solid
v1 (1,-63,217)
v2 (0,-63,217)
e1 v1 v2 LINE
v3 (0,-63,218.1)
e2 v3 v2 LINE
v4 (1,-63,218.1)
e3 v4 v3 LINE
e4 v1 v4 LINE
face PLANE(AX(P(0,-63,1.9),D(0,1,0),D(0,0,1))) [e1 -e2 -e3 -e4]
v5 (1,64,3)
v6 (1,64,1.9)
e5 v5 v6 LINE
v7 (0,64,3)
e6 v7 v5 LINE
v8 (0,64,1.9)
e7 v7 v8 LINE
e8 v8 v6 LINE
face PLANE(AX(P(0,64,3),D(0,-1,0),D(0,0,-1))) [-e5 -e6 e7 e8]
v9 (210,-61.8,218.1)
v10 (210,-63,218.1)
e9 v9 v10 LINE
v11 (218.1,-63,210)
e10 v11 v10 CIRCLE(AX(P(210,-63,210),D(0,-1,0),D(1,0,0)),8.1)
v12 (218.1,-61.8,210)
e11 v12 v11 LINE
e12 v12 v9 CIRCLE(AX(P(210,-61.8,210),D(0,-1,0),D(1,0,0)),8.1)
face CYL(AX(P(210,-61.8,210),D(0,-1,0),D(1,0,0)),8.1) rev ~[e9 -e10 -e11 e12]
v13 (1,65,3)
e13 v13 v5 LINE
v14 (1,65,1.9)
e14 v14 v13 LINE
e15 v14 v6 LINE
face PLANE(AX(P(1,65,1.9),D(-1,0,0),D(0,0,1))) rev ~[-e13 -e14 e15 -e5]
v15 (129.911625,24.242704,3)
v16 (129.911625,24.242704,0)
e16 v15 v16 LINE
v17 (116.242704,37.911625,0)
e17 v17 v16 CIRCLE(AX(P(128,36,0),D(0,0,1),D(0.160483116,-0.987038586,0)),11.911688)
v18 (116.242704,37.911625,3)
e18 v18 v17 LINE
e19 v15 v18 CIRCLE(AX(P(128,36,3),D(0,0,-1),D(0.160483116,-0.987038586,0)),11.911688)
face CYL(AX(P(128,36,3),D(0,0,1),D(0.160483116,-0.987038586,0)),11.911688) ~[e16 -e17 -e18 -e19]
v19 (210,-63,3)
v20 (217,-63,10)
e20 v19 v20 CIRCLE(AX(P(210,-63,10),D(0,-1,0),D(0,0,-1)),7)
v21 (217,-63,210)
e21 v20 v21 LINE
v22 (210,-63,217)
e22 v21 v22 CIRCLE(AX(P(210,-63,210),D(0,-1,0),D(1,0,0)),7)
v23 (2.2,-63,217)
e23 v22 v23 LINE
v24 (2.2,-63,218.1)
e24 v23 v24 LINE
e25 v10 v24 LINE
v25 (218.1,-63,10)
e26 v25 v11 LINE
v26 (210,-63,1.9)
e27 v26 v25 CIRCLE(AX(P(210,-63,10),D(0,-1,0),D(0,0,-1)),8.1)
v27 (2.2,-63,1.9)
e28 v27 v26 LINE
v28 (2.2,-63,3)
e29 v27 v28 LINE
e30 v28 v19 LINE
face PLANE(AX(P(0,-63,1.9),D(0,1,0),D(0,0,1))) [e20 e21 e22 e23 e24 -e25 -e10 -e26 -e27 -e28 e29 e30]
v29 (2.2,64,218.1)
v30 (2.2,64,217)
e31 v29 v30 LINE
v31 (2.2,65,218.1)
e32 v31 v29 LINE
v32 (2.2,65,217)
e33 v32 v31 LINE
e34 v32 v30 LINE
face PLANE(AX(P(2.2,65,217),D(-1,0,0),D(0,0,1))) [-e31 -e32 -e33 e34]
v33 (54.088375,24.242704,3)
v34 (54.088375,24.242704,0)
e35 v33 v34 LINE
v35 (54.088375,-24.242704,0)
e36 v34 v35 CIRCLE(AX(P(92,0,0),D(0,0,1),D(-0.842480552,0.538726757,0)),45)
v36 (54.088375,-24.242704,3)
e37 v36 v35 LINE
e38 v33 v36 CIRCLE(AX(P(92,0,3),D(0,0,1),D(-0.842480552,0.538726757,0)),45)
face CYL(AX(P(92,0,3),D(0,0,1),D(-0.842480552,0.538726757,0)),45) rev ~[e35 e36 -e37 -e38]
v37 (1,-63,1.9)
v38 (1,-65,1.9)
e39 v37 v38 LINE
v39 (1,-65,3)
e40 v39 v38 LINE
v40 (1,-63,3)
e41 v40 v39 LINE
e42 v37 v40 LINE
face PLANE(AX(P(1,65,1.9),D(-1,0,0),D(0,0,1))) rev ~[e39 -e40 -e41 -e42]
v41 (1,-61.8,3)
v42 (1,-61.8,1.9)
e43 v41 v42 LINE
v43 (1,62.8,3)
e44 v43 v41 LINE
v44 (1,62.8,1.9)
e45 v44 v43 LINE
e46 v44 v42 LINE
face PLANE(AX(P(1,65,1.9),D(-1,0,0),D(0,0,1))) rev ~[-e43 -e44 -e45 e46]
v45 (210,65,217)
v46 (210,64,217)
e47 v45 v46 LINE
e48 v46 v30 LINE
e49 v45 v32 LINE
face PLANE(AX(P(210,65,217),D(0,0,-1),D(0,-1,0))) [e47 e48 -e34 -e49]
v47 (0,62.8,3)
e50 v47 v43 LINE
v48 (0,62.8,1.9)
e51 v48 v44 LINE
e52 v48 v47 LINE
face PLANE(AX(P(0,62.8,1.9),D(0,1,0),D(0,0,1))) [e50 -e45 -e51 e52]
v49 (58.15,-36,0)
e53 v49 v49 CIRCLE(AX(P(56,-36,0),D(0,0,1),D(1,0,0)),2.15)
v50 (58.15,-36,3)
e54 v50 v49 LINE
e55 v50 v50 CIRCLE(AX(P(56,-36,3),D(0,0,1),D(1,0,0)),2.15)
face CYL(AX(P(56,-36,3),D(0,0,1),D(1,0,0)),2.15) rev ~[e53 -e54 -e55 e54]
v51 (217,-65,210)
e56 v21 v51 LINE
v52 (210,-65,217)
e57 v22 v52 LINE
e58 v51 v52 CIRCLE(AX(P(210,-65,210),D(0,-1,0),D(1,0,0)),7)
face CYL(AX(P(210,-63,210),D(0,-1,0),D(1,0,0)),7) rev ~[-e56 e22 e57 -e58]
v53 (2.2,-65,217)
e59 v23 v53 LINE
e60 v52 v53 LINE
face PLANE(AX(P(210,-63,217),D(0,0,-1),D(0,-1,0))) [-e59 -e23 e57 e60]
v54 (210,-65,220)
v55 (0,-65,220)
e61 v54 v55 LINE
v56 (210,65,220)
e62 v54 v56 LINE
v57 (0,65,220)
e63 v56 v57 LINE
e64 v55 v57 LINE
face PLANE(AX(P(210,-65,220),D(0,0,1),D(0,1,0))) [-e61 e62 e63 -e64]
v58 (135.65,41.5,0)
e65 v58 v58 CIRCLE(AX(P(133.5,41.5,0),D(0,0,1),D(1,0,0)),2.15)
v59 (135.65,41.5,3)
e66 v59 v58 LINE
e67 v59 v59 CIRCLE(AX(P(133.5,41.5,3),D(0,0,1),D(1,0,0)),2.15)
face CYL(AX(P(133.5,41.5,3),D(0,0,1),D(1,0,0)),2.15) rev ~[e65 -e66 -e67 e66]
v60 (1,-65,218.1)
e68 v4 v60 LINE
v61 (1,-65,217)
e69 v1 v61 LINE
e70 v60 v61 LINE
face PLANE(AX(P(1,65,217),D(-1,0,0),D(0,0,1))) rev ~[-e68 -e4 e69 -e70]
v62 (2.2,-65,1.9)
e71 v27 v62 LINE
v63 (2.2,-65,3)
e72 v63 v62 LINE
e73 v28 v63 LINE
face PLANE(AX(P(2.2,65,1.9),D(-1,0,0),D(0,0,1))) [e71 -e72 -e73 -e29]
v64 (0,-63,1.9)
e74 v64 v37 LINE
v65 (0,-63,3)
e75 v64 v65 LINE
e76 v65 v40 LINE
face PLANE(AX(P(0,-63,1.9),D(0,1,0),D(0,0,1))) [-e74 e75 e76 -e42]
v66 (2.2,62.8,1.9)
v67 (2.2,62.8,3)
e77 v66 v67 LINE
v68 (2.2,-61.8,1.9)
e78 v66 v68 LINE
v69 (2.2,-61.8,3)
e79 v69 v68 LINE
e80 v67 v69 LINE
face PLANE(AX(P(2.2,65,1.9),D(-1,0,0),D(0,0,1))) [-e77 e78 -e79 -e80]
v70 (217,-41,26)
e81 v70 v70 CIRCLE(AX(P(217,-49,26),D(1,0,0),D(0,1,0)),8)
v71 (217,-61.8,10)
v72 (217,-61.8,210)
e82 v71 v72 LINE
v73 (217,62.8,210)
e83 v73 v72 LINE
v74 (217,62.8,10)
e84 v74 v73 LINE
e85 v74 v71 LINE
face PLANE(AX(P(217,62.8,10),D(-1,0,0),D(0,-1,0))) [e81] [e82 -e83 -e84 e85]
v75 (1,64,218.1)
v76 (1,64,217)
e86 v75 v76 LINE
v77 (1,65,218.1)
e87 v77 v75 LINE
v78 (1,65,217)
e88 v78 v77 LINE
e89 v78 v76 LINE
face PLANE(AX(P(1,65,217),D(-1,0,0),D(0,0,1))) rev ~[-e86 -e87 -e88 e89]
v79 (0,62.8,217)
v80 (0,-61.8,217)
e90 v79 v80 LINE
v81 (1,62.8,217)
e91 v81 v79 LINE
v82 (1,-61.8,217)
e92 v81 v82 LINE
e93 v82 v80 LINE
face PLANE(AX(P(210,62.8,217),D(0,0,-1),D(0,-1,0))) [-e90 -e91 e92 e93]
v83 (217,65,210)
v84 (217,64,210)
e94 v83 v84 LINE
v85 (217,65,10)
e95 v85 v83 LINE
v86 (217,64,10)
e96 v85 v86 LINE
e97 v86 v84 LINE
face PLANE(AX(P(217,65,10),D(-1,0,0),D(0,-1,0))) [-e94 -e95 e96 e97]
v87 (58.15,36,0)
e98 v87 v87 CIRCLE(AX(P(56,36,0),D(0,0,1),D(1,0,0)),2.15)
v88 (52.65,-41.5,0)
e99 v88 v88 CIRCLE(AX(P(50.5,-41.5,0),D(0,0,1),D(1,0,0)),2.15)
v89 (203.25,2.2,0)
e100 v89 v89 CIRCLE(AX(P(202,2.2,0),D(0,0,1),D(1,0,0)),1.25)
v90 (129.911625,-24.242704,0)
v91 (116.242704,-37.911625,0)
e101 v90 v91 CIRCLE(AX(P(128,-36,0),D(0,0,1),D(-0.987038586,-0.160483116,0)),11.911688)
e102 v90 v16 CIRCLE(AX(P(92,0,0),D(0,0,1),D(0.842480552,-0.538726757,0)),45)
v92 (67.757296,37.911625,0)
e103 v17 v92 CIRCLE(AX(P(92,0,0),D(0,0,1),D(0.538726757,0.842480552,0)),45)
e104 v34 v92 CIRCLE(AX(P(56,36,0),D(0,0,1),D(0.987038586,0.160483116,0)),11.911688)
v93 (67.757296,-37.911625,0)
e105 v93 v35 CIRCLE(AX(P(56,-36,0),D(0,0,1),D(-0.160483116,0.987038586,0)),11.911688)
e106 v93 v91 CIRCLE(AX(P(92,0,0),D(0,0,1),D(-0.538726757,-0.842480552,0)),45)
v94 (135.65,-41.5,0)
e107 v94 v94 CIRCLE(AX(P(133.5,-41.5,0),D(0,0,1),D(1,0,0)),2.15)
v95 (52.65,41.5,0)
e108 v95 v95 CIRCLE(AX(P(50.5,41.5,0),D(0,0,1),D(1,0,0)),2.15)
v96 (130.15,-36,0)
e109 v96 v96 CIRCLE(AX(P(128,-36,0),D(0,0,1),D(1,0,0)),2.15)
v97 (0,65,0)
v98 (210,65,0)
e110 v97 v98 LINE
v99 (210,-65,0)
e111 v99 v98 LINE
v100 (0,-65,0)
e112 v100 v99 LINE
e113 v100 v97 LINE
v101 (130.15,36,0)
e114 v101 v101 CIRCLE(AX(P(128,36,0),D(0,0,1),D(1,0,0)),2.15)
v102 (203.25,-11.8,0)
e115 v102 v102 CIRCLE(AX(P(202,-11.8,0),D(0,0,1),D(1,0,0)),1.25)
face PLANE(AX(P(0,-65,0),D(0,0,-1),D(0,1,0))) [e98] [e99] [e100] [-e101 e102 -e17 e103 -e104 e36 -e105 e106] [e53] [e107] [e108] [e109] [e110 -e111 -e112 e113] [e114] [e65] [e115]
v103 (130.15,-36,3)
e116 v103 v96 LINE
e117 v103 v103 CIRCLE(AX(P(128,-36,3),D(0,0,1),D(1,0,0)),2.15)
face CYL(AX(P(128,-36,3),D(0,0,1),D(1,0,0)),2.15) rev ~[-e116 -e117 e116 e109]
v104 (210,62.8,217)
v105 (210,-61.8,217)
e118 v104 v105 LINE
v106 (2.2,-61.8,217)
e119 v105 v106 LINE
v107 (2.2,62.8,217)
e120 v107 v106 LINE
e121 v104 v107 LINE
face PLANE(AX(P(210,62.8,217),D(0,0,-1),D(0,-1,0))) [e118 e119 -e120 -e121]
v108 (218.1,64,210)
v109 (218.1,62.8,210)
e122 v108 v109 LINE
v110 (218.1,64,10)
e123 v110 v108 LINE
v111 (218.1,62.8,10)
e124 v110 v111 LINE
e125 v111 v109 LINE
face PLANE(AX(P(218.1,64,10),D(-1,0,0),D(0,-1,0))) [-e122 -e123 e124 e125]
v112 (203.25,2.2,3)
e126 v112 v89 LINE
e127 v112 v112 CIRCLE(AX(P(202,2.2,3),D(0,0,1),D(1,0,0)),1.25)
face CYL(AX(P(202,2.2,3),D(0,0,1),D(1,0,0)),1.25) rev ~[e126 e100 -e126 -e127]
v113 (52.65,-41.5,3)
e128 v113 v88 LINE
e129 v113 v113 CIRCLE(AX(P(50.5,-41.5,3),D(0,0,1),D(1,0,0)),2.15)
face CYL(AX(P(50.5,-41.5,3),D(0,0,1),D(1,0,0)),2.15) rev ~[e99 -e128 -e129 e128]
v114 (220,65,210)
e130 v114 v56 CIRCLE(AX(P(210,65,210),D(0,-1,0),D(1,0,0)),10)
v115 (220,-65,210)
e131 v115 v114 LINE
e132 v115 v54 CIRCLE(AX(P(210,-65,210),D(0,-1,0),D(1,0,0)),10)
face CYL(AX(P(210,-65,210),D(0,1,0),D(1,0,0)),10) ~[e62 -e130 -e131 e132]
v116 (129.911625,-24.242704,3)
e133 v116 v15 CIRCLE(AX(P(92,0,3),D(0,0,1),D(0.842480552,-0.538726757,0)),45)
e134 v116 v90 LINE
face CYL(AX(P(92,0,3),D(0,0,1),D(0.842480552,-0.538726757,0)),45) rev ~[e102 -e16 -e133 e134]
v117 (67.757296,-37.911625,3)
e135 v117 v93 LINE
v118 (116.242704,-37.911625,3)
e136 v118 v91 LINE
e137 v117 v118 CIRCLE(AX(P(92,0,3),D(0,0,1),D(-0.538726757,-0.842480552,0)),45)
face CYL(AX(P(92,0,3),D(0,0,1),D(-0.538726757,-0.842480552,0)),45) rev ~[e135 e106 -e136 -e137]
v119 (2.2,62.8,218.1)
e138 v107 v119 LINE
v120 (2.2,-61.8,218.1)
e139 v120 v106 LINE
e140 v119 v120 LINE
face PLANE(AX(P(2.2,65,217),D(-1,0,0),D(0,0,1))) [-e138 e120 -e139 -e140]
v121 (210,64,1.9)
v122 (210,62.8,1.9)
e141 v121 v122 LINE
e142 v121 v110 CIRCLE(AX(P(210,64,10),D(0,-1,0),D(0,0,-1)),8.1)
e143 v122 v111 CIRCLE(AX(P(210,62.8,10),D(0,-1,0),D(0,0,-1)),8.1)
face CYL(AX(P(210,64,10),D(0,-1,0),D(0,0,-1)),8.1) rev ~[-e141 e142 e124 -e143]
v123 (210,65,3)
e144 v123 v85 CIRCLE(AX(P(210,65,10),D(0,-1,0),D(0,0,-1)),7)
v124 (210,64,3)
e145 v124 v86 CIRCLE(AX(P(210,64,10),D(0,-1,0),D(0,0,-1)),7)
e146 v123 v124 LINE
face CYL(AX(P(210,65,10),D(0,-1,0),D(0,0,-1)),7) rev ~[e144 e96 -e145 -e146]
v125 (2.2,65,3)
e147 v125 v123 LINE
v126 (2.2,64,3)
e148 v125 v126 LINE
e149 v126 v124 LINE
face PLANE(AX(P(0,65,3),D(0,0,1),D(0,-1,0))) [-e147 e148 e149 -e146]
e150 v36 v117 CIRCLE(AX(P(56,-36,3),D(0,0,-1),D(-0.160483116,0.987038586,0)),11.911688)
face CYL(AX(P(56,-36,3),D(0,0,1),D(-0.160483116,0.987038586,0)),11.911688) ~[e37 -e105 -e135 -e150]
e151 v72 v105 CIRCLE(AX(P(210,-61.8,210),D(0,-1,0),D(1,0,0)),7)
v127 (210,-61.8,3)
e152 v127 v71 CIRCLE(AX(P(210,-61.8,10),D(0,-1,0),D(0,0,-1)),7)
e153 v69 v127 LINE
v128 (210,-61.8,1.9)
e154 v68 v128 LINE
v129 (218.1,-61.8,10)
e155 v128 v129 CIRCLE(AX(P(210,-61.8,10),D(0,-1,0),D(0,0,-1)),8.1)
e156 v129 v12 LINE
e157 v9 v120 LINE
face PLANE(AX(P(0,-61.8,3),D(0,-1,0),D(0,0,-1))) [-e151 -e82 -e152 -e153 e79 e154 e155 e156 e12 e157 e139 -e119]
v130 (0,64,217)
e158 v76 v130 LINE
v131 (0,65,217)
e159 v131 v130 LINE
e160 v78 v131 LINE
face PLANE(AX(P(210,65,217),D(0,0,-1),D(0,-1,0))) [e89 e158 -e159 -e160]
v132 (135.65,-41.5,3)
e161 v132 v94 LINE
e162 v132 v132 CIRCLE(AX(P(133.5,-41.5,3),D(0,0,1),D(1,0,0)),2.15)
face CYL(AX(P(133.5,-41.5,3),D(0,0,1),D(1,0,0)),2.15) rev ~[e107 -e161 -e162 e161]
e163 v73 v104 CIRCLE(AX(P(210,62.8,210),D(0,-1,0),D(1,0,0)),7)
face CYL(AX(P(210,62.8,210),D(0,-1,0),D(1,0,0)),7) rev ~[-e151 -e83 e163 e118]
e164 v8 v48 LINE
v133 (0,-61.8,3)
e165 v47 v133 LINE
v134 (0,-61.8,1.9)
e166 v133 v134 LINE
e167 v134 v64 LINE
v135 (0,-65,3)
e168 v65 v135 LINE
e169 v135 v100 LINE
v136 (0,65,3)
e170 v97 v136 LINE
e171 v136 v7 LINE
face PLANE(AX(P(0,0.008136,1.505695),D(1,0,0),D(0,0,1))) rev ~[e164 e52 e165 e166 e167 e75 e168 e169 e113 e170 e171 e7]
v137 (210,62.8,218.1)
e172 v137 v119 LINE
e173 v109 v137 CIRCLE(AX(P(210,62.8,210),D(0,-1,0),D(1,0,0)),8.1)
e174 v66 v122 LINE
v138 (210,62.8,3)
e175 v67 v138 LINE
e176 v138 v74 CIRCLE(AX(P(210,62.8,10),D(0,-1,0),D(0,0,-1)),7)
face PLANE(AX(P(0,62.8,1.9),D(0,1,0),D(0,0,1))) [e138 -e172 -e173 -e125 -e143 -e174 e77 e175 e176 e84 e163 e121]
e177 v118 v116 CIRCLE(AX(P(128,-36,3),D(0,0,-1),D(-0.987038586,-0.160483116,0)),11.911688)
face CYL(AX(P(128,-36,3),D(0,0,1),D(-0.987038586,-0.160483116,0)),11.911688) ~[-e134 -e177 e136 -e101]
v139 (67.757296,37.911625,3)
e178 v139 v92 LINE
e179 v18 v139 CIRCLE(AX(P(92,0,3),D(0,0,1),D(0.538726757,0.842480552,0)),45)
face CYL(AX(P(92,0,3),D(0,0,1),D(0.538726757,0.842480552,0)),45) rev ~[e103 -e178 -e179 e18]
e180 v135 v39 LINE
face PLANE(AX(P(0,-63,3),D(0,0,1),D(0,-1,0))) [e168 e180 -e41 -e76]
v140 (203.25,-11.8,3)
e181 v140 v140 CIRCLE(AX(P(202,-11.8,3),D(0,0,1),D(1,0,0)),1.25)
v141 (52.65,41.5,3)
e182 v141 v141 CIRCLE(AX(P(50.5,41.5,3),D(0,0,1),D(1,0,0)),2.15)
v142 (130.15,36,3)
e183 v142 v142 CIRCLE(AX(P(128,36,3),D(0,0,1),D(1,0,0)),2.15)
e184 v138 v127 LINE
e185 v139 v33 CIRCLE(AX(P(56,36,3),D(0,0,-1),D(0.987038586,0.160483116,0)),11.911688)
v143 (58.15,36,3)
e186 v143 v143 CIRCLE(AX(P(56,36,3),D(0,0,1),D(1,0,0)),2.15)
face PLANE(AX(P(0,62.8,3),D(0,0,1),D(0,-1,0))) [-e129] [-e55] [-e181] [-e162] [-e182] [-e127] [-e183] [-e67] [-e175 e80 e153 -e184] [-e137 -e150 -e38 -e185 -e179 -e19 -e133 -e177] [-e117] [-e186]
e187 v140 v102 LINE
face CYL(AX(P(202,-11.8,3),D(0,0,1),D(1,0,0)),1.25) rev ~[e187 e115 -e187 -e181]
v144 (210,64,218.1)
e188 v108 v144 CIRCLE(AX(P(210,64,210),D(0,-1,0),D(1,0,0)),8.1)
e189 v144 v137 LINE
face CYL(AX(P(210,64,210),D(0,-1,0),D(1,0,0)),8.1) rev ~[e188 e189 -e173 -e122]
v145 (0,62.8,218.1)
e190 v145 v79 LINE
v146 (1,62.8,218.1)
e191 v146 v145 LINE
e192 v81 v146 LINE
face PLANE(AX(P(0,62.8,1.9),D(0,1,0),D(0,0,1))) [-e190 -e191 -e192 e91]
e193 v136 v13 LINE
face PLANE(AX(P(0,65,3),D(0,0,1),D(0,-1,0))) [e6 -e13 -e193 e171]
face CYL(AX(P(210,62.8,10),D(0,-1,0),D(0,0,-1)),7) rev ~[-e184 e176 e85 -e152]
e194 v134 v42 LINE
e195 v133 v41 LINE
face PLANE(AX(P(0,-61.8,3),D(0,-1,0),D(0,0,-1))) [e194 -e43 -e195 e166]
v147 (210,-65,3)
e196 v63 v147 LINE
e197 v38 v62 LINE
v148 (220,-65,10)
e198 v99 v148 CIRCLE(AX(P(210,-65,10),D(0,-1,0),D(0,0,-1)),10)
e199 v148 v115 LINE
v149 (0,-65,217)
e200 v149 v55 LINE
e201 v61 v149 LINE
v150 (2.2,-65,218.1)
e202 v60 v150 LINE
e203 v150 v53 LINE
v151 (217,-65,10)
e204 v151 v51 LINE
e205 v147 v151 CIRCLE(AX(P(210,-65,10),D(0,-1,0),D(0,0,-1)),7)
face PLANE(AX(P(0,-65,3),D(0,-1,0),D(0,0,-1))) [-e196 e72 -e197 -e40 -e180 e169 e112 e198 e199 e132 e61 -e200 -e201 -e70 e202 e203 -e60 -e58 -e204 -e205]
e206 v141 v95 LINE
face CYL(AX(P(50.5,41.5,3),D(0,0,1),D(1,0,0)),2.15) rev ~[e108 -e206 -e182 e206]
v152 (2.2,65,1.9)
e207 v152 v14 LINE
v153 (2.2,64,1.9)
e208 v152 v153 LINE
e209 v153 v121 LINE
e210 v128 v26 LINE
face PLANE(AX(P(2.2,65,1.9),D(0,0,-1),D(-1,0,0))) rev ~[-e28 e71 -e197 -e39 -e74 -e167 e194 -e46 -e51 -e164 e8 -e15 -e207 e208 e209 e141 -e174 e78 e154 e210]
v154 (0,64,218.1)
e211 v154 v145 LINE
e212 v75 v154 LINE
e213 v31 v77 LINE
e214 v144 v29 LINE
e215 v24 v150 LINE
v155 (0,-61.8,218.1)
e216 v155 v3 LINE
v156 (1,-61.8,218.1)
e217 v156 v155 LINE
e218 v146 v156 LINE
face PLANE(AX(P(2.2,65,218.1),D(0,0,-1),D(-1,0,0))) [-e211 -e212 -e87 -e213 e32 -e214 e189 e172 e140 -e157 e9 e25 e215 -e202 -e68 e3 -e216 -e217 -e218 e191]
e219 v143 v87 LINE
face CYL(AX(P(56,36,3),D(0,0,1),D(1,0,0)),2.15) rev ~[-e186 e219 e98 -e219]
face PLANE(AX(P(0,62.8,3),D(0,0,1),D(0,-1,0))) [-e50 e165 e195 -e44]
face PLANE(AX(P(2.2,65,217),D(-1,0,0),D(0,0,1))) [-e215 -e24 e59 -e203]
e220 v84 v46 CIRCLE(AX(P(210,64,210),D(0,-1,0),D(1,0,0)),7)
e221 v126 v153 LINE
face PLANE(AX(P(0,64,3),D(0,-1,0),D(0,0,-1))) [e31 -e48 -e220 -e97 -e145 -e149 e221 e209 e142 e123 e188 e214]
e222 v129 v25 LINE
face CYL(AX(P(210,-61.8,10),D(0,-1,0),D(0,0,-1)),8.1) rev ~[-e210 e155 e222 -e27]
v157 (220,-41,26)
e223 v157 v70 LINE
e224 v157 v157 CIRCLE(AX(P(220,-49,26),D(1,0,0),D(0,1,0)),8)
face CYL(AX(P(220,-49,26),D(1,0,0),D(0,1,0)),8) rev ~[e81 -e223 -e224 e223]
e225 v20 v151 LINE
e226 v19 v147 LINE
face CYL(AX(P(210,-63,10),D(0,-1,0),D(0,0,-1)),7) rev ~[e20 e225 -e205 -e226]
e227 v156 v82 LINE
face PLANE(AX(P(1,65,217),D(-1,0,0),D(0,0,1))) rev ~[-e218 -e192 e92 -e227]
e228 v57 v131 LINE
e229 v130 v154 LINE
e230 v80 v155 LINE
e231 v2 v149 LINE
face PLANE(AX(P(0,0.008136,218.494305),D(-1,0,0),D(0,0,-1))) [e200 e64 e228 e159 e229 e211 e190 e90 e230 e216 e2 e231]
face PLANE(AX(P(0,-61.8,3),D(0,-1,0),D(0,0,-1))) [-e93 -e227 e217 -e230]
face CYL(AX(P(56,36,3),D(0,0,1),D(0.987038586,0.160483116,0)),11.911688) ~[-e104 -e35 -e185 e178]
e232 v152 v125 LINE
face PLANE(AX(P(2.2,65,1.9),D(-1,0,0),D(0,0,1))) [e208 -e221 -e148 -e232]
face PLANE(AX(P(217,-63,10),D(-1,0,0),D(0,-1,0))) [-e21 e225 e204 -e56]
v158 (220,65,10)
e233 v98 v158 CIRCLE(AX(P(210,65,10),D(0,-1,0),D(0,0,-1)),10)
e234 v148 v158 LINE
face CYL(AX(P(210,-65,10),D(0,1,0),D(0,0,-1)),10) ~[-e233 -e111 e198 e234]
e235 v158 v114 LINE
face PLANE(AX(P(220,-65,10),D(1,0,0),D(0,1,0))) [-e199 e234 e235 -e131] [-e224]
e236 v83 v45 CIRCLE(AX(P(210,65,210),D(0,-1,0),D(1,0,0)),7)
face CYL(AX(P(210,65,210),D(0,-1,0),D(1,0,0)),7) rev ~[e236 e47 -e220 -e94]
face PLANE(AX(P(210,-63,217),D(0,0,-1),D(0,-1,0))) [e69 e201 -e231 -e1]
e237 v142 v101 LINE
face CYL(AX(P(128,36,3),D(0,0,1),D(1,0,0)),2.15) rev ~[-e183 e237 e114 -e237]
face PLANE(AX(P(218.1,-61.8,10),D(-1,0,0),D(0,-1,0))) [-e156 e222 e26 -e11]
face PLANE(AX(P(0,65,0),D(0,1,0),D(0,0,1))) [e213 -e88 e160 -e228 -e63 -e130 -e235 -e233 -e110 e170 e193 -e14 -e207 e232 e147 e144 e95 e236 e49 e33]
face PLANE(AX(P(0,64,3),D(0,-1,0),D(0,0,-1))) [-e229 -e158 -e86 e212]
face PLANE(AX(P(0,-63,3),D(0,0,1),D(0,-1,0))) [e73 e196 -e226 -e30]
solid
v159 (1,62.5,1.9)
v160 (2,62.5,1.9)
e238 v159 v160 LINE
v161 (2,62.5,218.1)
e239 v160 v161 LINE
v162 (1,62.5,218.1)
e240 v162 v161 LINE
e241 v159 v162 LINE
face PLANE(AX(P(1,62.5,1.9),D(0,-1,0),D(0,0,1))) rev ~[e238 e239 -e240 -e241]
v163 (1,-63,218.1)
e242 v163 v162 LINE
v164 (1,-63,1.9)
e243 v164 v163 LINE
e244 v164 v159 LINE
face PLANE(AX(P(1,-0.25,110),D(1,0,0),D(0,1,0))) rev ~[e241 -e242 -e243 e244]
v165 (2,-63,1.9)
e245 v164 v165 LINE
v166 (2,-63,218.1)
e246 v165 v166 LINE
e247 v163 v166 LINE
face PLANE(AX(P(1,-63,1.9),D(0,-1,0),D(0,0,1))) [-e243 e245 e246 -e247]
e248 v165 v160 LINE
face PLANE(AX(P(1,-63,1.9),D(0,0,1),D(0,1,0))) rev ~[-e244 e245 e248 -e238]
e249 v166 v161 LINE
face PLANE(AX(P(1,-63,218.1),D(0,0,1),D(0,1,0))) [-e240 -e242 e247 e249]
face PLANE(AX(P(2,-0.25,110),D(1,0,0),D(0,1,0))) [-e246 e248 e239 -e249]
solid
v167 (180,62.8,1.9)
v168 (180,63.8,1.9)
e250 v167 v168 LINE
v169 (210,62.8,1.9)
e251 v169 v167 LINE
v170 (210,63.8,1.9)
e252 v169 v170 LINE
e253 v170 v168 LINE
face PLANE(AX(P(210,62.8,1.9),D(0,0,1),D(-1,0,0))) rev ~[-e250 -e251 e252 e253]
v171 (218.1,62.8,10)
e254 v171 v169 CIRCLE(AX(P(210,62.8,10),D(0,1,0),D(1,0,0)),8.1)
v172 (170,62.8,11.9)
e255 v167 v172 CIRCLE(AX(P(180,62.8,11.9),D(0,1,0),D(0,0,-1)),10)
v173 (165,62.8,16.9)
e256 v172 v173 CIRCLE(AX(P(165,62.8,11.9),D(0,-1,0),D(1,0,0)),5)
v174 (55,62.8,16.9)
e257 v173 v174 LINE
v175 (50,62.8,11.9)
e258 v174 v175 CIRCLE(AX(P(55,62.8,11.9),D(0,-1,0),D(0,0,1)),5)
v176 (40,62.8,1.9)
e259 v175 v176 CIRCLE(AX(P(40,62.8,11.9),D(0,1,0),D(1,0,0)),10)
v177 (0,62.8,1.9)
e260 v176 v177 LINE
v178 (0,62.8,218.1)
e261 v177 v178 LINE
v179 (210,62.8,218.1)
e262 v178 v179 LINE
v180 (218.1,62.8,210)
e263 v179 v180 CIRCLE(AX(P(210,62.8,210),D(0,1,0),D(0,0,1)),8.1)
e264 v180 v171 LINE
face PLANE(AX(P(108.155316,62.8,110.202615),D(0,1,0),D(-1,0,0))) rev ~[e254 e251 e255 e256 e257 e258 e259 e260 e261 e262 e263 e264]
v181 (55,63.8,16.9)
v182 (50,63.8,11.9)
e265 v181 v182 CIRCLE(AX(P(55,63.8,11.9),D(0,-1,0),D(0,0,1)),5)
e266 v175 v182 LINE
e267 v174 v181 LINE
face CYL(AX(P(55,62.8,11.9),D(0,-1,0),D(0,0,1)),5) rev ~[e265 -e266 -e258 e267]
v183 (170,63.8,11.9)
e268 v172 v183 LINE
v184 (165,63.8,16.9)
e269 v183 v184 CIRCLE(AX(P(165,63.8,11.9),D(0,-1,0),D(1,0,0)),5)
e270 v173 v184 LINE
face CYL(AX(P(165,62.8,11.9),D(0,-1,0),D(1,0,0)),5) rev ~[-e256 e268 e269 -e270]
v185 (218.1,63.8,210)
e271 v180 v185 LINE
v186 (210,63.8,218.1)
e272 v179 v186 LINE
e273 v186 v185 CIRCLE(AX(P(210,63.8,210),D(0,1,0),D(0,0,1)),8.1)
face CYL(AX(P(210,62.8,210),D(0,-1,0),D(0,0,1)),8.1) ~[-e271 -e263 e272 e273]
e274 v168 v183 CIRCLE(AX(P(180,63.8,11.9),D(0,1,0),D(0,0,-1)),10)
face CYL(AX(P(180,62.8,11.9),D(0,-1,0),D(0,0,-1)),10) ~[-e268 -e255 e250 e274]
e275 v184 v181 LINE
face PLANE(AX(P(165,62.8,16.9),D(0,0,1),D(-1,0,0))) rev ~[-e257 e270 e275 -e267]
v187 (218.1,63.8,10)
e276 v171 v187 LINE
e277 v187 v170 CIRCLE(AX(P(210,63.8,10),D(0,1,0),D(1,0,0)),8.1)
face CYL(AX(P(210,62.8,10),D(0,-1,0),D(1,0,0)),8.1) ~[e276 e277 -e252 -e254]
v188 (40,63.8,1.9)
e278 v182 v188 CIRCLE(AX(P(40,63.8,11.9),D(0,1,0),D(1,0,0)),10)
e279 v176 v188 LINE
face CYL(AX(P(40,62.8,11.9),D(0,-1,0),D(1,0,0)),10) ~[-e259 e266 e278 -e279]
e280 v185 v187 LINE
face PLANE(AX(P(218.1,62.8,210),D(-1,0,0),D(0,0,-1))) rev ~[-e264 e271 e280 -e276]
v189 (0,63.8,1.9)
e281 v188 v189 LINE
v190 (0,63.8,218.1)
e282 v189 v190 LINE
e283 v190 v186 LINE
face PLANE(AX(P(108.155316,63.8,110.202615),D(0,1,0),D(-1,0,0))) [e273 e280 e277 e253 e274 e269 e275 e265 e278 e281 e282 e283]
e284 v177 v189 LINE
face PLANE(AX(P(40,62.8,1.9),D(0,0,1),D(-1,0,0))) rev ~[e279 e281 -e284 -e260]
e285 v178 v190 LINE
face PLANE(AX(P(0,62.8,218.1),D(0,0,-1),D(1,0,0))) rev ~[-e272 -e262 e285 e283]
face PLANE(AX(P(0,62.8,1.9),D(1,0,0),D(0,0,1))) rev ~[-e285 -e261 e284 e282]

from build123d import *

# Parameters (mm, degrees)
F3_R      = 2.15
F4_DEPTH  = 25
F5_W      = 1.2
F5_H      = 1.1
F6_DEPTH  = 130.001
F8_D      = 2.5
F8_DEPTH  = 3.001
F9_R      = 8
F10_DEPTH = 3
F11_W     = 125.5
F11_H     = 216.2
F12_DEPTH = 1
F14_DEPTH = 1


with BuildPart() as f2:
    # F2: sweep along a path in F1
    with BuildLine(Plane.XZ) as f2_path:
        Line((0, 0), (210, 0))
        ThreePointArc((210, 0), (217.0710678119, 2.9289321881), (220, 10))
        Line((220, 10), (220, 210))
        ThreePointArc((220, 210), (217.0710678119, 217.0710678119), (210, 220))
        Line((210, 220), (0, 220))
    # F0 (on Right) → F2 (sweep)
    with BuildSketch(Plane.YZ):
        Polygon((-65, 3), (-65, 0), (65, 0), (65, 3), (64, 3), (64, 1.9), (62.8, 1.9), (62.8, 3), (-61.8, 3), (-61.8, 1.9), (-63, 1.9), (-63, 3), align=None)
    sweep(path=f2_path.line)

    # F3 (on face) → F4 (cut)
    with BuildSketch(Plane.XY.offset(3)):
        with BuildLine():
            ThreePointArc((67.7572959174, 37.91162485), (64.4228355337, 27.5771644663), (54.08837515, 24.2427040826))
            ThreePointArc((54.08837515, 24.2427040826), (47, 0), (54.08837515, -24.2427040826))
            ThreePointArc((54.08837515, -24.2427040826), (64.4228355337, -27.5771644663), (67.7572959174, -37.91162485))
            ThreePointArc((67.7572959174, -37.91162485), (92, -45), (116.2427040826, -37.91162485))
            ThreePointArc((116.2427040826, -37.91162485), (119.5771644663, -27.5771644663), (129.91162485, -24.2427040826))
            ThreePointArc((129.91162485, -24.2427040826), (137, 0), (129.91162485, 24.2427040826))
            ThreePointArc((129.91162485, 24.2427040826), (119.5771644663, 27.5771644663), (116.2427040826, 37.91162485))
            ThreePointArc((116.2427040826, 37.91162485), (92, 45), (67.7572959174, 37.91162485))
        make_face()
        with Locations((56, 36)):
            Circle(F3_R)
        with Locations((50.5, 41.5)):
            Circle(F3_R)
        with Locations((56, -36)):
            Circle(F3_R)
        with Locations((50.5, -41.5)):
            Circle(F3_R)
        with Locations((128, 36)):
            Circle(F3_R)
        with Locations((133.5, 41.5)):
            Circle(F3_R)
        with Locations((133.5, -41.5)):
            Circle(F3_R)
        with Locations((128, -36)):
            Circle(F3_R)
    extrude(amount=-F4_DEPTH, mode=Mode.SUBTRACT)

    # F5 (on face) → F6 (cut, through all)
    with BuildSketch(Plane(origin=(0, 65, 0), x_dir=(-1, 0, 0), z_dir=(0, 1, 0))):
        with Locations((-1.6, 2.45)):
            Rectangle(F5_W, F5_H)
        with Locations((-1.6, 217.55)):
            Rectangle(F5_W, F5_H)
    extrude(amount=-F6_DEPTH, mode=Mode.SUBTRACT)

    # F8 (through all, one way)
    with BuildSketch(Plane.XY.offset(3)):
        with Locations((202, 2.2), (202, -11.8)):
            Circle(F8_D / 2)
    extrude(amount=-F8_DEPTH, mode=Mode.SUBTRACT)

    # F9 (on face) → F10 (cut, through all)
    with BuildSketch(Plane.YZ.offset(220)):
        with Locations((-49, 26)):
            Circle(F9_R)
    extrude(amount=-F10_DEPTH, mode=Mode.SUBTRACT)


with BuildPart() as f12:
    # F11 (on face) → F12 (new body)
    with BuildSketch(Plane.YZ.offset(1)):
        with Locations((-0.25, 110)):
            Rectangle(F11_W, F11_H)
    extrude(amount=F12_DEPTH)


with BuildPart() as f14:
    # F13 (on face) → F14 (new body)
    with BuildSketch(Plane(origin=(0, 62.8, 0), x_dir=(-1, 0, 0), z_dir=(0, 1, 0))):
        with BuildLine():
            Line((-40, 1.9), (0, 1.9))
            Line((0, 1.9), (0, 218.1))
            Line((0, 218.1), (-210, 218.1))
            ThreePointArc((-210, 218.1), (-215.7275649276, 215.7275649276), (-218.1, 210))
            Line((-218.1, 210), (-218.1, 10))
            ThreePointArc((-218.1, 10), (-215.7275649276, 4.2724350724), (-210, 1.9))
            Line((-210, 1.9), (-180, 1.9))
            ThreePointArc((-180, 1.9), (-172.9289321881, 4.8289321881), (-170, 11.9))
            ThreePointArc((-170, 11.9), (-168.5355339059, 15.4355339059), (-165, 16.9))
            Line((-165, 16.9), (-55, 16.9))
            ThreePointArc((-55, 16.9), (-51.4644660941, 15.4355339059), (-50, 11.9))
            ThreePointArc((-50, 11.9), (-47.0710678119, 4.8289321881), (-40, 1.9))
        make_face()
    extrude(amount=F14_DEPTH)


solid = Compound([f2.part, f12.part, f14.part])
